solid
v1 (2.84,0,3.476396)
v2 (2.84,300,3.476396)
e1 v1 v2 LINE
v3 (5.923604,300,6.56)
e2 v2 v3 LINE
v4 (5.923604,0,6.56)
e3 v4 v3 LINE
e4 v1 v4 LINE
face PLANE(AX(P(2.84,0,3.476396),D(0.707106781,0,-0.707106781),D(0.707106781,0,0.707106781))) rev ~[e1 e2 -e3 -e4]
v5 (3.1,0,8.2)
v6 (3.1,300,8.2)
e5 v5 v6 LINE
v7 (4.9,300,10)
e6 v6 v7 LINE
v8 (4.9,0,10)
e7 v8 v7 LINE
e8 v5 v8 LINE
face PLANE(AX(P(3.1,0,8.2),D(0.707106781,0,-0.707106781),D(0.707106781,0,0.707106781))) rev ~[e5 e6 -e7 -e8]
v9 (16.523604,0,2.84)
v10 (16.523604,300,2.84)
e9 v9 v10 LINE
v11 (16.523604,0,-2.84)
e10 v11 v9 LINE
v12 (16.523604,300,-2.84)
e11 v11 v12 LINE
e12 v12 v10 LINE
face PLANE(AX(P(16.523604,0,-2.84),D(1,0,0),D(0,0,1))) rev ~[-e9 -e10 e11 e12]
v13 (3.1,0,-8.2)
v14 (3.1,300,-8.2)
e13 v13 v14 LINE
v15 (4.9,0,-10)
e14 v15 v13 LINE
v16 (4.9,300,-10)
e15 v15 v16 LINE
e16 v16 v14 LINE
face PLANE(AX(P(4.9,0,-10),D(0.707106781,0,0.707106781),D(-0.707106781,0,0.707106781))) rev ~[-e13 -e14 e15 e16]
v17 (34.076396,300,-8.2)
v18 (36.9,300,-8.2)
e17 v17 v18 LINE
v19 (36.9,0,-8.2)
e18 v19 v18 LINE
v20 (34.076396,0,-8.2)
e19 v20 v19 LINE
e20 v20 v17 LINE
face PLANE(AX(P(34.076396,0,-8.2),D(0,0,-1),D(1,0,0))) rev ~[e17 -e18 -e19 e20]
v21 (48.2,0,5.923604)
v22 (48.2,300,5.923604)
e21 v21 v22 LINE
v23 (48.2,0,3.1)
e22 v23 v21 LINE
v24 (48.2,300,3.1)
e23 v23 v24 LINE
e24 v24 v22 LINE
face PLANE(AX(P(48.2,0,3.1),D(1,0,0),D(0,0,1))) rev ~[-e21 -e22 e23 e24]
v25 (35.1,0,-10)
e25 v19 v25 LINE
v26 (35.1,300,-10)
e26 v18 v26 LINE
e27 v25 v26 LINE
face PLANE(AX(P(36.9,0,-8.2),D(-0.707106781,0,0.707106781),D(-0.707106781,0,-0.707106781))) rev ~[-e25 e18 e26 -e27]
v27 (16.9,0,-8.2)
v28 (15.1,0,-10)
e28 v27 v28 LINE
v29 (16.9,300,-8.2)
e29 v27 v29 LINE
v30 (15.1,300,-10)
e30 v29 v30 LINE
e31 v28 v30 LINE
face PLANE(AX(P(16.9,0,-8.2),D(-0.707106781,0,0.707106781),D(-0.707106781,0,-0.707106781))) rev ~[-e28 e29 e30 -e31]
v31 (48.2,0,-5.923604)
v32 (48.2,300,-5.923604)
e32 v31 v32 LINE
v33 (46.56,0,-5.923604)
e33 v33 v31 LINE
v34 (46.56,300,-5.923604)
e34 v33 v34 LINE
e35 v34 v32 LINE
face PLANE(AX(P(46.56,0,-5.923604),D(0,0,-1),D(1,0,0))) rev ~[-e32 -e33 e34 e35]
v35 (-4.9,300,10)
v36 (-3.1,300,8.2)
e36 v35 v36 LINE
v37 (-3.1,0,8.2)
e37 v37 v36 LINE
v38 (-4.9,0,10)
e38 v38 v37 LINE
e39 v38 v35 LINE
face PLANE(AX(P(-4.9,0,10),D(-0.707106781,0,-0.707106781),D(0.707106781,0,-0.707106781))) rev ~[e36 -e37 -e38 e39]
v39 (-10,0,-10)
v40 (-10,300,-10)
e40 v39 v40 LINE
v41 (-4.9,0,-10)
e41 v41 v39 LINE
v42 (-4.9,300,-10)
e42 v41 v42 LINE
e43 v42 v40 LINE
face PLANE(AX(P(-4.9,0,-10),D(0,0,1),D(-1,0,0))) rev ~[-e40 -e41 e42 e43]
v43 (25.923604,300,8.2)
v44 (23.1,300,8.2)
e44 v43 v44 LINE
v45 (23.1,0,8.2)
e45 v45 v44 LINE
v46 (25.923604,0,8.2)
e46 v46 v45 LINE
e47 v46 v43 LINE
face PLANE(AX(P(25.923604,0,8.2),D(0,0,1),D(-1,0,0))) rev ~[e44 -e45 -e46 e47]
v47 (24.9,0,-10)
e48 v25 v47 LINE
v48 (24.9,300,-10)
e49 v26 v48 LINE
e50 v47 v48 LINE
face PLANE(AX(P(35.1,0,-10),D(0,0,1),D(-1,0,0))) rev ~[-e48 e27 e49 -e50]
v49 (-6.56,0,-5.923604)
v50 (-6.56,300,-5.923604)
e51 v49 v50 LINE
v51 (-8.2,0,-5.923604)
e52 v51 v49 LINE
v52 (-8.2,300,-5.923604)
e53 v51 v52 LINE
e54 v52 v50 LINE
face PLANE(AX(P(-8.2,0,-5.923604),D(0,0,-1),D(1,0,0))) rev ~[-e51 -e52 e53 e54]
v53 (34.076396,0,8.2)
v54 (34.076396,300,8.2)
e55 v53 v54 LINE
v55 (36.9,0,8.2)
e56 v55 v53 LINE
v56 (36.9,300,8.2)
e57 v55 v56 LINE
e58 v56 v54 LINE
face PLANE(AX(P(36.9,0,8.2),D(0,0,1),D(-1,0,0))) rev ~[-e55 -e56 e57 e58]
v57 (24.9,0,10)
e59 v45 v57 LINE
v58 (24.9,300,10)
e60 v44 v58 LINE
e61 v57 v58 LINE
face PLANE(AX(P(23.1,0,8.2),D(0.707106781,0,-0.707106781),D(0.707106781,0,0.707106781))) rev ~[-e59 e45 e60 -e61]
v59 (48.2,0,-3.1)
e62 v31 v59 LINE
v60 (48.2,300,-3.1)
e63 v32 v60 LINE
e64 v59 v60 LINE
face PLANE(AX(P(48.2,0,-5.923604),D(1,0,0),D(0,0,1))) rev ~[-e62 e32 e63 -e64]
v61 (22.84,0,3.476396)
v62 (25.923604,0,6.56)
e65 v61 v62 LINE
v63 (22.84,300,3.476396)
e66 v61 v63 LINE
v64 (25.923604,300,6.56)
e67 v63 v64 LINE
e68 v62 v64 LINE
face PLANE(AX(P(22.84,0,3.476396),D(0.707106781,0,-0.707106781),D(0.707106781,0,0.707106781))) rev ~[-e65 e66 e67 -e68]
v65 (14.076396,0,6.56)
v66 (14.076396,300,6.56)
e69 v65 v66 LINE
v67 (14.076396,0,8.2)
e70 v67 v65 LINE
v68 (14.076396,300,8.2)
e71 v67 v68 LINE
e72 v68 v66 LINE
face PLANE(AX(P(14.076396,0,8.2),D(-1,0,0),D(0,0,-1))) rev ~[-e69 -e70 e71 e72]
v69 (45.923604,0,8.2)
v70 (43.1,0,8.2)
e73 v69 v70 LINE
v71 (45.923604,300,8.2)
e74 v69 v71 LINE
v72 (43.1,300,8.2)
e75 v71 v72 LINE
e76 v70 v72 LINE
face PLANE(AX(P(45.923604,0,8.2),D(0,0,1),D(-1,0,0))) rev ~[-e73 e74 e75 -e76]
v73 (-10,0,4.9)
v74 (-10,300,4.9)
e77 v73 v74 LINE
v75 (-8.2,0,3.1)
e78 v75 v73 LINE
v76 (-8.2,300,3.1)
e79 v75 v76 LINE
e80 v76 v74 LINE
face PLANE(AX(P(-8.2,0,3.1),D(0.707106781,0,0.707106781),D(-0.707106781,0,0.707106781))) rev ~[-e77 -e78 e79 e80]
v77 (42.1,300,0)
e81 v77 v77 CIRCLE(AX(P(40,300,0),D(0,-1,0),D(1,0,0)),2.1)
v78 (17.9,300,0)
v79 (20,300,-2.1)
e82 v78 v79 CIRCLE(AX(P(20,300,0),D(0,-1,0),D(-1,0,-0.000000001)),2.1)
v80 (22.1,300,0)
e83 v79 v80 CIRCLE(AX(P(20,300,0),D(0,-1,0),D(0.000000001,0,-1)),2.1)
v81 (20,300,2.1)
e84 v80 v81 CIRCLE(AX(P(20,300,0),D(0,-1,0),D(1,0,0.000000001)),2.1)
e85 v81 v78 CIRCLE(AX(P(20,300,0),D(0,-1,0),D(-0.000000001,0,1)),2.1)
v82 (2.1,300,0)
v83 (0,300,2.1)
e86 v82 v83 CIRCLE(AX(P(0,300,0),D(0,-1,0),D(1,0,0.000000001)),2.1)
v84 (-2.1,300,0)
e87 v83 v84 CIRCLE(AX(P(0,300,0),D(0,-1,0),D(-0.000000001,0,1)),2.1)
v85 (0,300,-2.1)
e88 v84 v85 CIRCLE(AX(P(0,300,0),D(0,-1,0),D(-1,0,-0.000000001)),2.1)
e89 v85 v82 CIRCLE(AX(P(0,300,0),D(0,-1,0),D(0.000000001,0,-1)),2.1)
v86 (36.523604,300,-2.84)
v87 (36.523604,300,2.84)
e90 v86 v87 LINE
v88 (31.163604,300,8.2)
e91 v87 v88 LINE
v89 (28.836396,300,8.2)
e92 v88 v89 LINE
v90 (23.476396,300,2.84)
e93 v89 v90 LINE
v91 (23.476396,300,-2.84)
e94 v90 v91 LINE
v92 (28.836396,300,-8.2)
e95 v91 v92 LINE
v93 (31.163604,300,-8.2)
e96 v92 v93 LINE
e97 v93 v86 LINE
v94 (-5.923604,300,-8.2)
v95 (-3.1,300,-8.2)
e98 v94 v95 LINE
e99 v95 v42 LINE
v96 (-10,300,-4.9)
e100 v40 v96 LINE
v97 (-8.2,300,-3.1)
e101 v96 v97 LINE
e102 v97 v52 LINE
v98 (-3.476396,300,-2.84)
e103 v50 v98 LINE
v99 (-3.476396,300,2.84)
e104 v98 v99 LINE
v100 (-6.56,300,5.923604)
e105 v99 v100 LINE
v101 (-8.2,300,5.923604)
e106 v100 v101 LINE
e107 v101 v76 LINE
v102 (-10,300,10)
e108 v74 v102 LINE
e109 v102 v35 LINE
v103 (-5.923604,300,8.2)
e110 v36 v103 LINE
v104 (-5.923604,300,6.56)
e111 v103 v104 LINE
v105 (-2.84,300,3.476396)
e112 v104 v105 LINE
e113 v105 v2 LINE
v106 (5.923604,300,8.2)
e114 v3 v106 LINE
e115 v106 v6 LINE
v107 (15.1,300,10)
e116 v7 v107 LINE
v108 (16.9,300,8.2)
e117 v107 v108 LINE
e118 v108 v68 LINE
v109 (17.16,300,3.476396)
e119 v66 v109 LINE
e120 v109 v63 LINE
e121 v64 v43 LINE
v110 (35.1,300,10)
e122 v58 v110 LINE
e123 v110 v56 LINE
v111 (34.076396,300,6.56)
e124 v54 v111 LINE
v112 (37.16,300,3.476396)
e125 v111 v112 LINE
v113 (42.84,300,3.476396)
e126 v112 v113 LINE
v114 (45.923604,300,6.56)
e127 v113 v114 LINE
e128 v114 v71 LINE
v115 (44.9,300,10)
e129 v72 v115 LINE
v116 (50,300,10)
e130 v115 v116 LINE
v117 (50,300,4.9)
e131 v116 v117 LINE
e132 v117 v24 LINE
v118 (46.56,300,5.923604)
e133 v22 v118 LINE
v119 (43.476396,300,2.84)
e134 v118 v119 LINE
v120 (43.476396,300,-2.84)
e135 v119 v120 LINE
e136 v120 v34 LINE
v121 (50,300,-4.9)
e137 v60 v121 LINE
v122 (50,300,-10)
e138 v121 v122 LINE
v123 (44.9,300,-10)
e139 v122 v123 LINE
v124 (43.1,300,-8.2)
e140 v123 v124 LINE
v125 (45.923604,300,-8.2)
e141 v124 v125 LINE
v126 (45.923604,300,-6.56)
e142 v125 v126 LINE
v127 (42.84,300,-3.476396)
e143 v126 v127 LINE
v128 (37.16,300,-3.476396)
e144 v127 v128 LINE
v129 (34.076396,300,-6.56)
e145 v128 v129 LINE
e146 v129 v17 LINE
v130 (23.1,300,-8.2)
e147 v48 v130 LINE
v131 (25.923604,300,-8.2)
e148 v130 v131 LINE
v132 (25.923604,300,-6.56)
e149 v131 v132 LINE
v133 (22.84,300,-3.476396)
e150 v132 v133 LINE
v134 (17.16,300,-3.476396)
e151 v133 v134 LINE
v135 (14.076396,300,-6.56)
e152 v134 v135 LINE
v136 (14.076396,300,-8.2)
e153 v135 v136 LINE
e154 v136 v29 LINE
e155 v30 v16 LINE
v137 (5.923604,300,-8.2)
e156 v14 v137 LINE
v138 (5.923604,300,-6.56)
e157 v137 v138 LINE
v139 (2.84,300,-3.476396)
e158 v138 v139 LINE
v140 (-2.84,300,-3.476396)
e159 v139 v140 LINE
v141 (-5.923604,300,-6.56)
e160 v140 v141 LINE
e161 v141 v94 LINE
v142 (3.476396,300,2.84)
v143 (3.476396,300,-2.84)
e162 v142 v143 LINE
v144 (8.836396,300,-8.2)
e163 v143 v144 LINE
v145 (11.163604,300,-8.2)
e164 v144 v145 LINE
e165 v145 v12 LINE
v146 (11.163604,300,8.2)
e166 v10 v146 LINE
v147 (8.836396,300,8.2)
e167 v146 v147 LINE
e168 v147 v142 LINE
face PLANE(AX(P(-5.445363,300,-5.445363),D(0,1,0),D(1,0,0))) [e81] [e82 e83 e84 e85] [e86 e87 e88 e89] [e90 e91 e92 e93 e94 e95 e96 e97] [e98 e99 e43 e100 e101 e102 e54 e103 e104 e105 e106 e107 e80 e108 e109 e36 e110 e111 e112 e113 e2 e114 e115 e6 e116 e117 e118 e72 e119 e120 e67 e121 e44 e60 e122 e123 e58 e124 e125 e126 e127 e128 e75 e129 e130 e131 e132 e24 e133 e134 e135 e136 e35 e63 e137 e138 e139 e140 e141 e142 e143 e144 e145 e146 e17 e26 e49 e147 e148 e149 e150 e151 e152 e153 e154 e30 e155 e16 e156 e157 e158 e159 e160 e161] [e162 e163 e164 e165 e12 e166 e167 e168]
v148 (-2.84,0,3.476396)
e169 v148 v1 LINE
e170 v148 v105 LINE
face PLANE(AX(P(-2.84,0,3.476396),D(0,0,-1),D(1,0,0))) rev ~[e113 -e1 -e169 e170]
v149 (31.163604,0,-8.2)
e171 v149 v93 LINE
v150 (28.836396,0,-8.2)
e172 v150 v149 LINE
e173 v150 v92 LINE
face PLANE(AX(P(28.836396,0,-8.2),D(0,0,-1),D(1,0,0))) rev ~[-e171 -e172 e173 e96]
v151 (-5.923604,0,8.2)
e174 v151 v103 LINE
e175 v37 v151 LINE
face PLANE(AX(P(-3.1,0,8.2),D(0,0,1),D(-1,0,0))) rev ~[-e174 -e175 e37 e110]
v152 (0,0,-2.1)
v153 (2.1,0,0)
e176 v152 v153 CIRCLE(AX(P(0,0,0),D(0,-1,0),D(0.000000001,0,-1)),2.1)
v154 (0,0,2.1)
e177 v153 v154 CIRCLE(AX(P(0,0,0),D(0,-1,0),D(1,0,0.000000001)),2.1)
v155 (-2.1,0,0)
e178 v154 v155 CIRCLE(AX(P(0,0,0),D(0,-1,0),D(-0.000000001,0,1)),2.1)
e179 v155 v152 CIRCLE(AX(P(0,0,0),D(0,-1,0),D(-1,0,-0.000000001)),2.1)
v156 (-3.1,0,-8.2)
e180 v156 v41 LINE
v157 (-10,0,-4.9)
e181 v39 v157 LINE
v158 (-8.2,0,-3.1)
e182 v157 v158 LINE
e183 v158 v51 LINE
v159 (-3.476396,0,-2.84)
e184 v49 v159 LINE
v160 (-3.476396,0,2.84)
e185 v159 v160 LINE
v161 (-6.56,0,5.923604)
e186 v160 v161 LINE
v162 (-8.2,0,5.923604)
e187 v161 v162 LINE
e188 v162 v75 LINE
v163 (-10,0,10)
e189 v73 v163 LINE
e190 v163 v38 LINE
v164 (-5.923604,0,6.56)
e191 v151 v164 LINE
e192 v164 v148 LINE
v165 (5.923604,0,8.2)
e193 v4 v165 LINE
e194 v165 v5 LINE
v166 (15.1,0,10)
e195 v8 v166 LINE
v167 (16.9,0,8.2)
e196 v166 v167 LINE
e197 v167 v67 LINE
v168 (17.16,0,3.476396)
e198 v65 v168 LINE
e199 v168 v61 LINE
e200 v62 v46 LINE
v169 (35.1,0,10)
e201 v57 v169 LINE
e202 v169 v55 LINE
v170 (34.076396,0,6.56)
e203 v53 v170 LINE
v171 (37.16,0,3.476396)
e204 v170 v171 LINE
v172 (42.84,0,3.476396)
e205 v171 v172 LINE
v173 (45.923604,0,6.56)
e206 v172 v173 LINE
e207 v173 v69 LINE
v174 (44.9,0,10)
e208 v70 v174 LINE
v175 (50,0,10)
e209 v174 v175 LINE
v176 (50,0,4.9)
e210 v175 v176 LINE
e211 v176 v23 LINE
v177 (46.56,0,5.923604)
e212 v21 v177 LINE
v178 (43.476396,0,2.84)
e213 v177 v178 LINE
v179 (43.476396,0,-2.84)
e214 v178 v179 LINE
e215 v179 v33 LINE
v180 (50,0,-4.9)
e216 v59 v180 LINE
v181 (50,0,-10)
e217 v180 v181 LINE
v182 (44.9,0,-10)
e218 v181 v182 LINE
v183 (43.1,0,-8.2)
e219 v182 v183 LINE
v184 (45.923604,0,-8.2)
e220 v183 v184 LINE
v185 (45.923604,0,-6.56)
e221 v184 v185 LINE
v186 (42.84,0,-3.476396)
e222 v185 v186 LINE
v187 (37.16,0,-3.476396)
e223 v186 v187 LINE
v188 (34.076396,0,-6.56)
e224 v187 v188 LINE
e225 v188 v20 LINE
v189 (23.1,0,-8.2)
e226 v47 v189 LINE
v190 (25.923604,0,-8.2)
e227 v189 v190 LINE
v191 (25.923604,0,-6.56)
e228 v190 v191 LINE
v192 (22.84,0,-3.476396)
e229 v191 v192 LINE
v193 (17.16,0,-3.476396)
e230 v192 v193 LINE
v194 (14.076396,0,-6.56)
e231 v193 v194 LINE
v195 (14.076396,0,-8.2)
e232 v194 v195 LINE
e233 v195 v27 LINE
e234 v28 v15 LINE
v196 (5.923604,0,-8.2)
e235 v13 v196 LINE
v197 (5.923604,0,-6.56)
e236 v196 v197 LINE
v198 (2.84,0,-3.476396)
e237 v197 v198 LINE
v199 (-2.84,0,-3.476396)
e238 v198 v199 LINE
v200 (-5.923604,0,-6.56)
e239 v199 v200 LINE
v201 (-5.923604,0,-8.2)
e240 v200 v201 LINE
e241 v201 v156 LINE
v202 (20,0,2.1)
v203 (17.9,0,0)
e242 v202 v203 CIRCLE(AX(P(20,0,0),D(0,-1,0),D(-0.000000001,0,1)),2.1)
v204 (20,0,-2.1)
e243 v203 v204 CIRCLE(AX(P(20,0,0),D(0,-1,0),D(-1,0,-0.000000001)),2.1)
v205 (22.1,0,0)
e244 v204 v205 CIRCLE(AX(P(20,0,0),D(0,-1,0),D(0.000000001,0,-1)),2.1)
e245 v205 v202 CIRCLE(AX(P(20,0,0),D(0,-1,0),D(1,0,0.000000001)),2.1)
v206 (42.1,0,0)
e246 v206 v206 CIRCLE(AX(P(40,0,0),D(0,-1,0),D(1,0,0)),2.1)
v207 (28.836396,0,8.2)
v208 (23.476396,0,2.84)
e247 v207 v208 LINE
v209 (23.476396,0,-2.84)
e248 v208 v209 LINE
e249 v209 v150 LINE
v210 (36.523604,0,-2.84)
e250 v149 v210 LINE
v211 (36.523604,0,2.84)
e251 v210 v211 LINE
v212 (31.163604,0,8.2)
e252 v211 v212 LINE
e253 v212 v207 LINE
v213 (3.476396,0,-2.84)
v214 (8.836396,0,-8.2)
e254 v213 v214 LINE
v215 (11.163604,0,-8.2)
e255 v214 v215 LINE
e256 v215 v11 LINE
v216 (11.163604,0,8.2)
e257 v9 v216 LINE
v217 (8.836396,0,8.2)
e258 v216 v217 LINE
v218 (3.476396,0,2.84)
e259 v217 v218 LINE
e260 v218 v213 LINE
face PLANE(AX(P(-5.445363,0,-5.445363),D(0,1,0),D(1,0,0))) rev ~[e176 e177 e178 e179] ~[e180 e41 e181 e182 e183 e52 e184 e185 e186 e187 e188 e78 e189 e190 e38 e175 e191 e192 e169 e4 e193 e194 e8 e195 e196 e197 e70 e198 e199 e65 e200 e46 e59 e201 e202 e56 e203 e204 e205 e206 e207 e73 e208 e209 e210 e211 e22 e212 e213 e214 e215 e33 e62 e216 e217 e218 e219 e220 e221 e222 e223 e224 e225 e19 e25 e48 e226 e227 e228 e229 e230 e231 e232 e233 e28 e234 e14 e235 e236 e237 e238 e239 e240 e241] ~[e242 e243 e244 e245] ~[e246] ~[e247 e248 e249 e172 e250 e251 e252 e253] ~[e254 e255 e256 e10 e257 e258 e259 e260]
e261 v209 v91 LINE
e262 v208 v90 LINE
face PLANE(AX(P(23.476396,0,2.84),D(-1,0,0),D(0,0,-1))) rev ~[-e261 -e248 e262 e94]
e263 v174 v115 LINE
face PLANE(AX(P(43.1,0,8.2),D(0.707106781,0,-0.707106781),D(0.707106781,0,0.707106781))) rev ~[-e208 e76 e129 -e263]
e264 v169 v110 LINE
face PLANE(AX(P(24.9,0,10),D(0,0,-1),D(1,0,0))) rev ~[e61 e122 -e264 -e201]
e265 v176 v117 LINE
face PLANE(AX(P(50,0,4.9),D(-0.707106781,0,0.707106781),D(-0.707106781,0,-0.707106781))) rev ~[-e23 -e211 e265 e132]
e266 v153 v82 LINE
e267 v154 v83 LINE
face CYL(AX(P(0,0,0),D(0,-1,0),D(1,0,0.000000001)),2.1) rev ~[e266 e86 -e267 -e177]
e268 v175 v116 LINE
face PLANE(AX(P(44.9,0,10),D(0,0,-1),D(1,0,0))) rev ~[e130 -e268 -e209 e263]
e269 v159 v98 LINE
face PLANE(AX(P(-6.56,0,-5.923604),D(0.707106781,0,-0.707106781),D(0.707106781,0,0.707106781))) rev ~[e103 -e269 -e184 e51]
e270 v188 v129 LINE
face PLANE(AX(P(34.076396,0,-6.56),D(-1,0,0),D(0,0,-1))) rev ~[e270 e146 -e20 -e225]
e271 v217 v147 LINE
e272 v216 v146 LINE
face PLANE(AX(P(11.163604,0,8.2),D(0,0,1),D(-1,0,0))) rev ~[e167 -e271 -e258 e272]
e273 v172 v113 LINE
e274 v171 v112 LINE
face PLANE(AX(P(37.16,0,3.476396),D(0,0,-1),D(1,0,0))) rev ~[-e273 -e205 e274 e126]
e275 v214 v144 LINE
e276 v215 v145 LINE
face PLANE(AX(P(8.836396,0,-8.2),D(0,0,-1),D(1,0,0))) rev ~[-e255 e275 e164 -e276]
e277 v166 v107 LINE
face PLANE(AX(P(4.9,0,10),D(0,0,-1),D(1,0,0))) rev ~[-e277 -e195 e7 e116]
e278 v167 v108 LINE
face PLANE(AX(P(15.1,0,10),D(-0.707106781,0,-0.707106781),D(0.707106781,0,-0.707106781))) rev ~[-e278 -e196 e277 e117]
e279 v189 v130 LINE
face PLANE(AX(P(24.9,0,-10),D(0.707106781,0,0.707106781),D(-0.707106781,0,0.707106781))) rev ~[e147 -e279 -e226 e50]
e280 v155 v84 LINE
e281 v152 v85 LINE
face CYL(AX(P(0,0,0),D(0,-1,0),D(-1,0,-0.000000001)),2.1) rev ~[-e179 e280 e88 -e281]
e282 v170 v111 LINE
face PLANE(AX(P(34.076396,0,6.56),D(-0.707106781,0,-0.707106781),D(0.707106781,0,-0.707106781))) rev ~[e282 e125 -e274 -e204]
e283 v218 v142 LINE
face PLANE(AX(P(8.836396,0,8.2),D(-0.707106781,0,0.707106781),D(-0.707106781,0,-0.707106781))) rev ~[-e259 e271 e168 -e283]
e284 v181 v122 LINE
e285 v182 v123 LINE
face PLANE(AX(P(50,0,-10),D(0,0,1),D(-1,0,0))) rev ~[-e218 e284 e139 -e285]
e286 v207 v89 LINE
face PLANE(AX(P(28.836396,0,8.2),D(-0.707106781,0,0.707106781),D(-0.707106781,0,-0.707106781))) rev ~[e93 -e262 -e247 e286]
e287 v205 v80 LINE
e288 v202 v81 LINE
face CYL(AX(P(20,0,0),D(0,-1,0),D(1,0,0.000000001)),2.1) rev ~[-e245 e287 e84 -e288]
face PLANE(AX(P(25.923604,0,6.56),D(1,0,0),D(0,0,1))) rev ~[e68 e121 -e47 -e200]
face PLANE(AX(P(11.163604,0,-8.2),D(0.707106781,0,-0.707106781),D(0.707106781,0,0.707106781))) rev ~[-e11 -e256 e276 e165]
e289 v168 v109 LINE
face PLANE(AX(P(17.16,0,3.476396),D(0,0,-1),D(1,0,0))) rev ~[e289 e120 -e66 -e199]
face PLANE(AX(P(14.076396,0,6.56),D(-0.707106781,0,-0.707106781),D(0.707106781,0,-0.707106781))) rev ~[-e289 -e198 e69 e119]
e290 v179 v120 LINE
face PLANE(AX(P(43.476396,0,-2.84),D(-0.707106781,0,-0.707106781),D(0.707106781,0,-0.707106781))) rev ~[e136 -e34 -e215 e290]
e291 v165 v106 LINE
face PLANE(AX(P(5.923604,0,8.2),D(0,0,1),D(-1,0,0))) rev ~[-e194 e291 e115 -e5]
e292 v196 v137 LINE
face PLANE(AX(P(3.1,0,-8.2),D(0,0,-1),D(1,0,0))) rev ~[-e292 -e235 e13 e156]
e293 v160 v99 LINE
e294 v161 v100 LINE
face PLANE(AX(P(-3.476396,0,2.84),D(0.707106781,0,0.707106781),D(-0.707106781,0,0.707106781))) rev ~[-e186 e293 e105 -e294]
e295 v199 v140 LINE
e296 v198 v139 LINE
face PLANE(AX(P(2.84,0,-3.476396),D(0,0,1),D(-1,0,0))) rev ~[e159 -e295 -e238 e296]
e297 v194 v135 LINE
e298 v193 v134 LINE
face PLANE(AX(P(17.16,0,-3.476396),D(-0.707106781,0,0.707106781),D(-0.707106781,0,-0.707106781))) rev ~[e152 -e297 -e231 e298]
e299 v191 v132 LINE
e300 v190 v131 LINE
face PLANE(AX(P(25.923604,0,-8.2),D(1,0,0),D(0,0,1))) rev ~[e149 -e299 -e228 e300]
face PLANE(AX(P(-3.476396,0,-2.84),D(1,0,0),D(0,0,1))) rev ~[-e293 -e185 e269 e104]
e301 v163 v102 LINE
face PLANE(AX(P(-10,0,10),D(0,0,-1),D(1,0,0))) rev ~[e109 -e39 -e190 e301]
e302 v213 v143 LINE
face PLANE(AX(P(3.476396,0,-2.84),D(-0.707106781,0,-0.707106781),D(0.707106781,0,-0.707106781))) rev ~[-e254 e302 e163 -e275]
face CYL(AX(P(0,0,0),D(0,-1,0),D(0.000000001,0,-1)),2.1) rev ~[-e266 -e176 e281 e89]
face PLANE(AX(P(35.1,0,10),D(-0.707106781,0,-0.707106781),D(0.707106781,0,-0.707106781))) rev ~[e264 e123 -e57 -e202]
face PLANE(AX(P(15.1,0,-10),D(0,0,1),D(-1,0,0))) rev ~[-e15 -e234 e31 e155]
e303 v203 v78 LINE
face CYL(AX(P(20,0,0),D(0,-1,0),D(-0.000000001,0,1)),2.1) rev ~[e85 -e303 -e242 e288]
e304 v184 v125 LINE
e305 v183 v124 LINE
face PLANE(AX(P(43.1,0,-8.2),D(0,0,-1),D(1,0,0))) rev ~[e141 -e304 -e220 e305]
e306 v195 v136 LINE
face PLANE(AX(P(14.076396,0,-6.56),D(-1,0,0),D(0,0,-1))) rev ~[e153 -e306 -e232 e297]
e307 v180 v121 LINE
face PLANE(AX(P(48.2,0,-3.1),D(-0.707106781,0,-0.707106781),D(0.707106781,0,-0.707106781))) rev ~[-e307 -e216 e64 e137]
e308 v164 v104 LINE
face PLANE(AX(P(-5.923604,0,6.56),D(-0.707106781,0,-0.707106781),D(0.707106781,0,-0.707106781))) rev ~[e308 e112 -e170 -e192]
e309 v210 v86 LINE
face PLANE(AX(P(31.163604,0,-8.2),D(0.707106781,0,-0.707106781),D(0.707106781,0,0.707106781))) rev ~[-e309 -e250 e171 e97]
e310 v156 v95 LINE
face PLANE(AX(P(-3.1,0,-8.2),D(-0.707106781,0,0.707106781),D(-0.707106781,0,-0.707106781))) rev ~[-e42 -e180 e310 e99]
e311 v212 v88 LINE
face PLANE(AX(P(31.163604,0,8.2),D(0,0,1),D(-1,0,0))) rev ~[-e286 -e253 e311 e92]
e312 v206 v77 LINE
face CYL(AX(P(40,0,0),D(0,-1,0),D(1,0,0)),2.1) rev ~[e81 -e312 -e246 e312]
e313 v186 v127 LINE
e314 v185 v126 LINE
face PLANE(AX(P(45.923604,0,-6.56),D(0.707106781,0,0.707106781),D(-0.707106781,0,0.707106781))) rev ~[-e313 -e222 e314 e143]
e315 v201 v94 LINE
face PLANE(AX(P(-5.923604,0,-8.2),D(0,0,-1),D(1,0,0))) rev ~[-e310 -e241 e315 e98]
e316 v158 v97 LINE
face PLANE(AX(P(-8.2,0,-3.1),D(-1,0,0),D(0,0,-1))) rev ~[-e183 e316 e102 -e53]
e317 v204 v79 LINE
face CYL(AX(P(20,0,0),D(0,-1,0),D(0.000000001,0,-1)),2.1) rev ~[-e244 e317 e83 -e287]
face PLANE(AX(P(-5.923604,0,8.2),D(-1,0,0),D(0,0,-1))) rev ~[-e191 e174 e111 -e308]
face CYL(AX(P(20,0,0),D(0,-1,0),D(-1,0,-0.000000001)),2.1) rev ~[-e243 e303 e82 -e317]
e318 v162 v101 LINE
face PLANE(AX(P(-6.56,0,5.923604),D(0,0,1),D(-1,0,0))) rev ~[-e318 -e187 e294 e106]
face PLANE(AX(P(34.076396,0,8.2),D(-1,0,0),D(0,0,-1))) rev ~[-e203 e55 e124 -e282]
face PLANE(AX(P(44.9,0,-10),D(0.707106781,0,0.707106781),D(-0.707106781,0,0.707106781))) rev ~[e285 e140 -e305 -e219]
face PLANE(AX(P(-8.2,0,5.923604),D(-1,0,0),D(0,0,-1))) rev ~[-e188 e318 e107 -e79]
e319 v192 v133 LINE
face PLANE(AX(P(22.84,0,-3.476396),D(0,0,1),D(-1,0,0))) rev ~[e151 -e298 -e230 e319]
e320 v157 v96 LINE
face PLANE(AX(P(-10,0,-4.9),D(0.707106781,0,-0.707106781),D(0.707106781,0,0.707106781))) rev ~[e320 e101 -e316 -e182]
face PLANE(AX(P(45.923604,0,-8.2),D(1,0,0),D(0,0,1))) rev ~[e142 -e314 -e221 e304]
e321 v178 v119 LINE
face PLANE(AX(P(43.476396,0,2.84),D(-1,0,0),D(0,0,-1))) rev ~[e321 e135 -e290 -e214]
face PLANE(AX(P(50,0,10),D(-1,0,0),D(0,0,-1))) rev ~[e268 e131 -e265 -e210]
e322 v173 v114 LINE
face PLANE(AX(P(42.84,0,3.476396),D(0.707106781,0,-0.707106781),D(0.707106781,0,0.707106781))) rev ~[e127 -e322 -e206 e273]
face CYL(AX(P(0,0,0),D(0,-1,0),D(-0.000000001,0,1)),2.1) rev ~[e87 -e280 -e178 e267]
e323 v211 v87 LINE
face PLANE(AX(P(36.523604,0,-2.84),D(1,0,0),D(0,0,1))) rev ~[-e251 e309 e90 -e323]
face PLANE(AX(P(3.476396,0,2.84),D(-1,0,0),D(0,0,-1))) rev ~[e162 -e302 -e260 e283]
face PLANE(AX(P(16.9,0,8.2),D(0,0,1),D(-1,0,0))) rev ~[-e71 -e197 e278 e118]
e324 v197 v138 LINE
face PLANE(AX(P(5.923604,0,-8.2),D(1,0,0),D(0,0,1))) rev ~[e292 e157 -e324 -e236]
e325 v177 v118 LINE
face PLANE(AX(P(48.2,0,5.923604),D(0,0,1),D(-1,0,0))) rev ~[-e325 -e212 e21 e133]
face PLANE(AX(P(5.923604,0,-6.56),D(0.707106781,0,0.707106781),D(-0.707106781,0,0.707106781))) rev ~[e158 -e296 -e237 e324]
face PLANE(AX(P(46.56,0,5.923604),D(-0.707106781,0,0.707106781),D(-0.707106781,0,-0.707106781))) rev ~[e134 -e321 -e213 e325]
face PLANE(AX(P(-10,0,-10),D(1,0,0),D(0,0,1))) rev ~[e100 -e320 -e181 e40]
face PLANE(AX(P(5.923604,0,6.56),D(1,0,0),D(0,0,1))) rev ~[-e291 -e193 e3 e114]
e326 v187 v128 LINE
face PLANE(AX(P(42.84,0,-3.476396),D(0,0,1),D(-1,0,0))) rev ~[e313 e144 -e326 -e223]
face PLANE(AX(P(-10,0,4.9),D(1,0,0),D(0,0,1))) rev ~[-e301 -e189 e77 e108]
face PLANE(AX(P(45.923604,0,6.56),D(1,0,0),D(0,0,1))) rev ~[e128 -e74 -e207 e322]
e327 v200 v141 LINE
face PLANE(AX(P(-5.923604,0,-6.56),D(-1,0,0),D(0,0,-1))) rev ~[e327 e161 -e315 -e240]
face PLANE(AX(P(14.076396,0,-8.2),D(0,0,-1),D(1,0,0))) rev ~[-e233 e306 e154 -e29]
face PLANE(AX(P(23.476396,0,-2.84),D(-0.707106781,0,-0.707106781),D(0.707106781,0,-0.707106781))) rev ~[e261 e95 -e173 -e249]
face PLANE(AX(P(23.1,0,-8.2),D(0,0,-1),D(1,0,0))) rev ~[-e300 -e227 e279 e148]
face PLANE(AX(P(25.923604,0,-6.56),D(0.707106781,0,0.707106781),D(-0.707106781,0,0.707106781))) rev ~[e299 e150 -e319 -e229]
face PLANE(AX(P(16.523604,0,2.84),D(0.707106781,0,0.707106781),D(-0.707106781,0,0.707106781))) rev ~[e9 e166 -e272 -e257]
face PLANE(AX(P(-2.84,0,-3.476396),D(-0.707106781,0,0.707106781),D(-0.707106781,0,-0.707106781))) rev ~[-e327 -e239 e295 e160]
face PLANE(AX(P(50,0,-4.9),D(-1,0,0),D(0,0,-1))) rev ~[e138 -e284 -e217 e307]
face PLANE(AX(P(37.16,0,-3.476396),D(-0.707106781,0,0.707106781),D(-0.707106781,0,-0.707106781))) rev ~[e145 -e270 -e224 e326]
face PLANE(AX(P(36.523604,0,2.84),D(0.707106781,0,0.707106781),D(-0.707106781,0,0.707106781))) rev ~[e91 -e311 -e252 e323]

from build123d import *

# Parameters (mm, degrees)
EXTRUDE_1_DEPTH = 300


with BuildPart() as part:
    # 草图1 → 凸台-拉伸1 (new body)
    with BuildSketch(Plane(origin=(0, 0, 0), x_dir=(1, 0, 0), z_dir=(0, 1, 0))):
        with BuildLine():
            Line((-3.476396103, 2.84), (-3.476396103, 0))
            Line((-3.476396103, 0), (-2.1, 0))
            ThreePointArc((-2.1, 0), (-1.48492424, 1.48492424), (0, 2.1))
            Line((0, 2.1), (0, 3.476396103))
            Line((0, 3.476396103), (-2.84, 3.476396103))
            Line((-2.84, 3.476396103), (-5.923603897, 6.56))
            Line((-5.923603897, 6.56), (-5.923603897, 8.2))
            Line((-5.923603897, 8.2), (-3.1, 8.2))
            Line((-3.1, 8.2), (-4.9, 10))
            Line((-4.9, 10), (-10, 10))
            Line((-10, 10), (-10, 4.9))
            Line((-10, 4.9), (-8.2, 3.1))
            Line((-8.2, 3.1), (-8.2, 5.923603897))
            Line((-8.2, 5.923603897), (-6.56, 5.923603897))
            Line((-6.56, 5.923603897), (-3.476396103, 2.84))
        make_face()
        with BuildLine():
            Line((-2.1, 0), (-3.476396103, 0))
            Line((-3.476396103, 0), (-3.476396103, -2.84))
            Line((-3.476396103, -2.84), (-6.56, -5.923603897))
            Line((-6.56, -5.923603897), (-8.2, -5.923603897))
            Line((-8.2, -5.923603897), (-8.2, -3.1))
            Line((-8.2, -3.1), (-10, -4.9))
            Line((-10, -4.9), (-10, -10))
            Line((-10, -10), (-4.9, -10))
            Line((-4.9, -10), (-3.1, -8.2))
            Line((-3.1, -8.2), (-5.923603897, -8.2))
            Line((-5.923603897, -8.2), (-5.923603897, -6.56))
            Line((-5.923603897, -6.56), (-2.84, -3.476396103))
            Line((-2.84, -3.476396103), (0, -3.476396103))
            Line((0, -3.476396103), (0, -2.1))
            ThreePointArc((0, -2.1), (-1.48492424, -1.48492424), (-2.1, 0))
        make_face()
        with BuildLine():
            ThreePointArc((2.1, 0), (1.48492424, -1.48492424), (0, -2.1))
            Line((0, -2.1), (0, -3.476396103))
            Line((0, -3.476396103), (2.84, -3.476396103))
            Line((2.84, -3.476396103), (5.923603897, -6.56))
            Line((5.923603897, -6.56), (5.923603897, -8.2))
            Line((5.923603897, -8.2), (3.1, -8.2))
            Line((3.1, -8.2), (4.9, -10))
            Line((4.9, -10), (15.1, -10))
            Line((15.1, -10), (16.9, -8.2))
            Line((16.9, -8.2), (14.076396103, -8.2))
            Line((14.076396103, -8.2), (14.076396103, -6.56))
            Line((14.076396103, -6.56), (17.16, -3.476396103))
            Line((17.16, -3.476396103), (20, -3.476396103))
            Line((20, -3.476396103), (20, -2.1))
            ThreePointArc((20, -2.1), (18.51507576, -1.48492424), (17.9, 0))
            Line((17.9, 0), (16.523603897, 0))
            Line((16.523603897, 0), (16.523603897, -2.84))
            Line((16.523603897, -2.84), (13.44, -5.923603897))
            Line((13.44, -5.923603897), (11.163603897, -8.2))
            Line((11.163603897, -8.2), (8.836396103, -8.2))
            Line((8.836396103, -8.2), (6.56, -5.923603897))
            Line((6.56, -5.923603897), (3.476396103, -2.84))
            Line((3.476396103, -2.84), (3.476396103, 0))
            Line((3.476396103, 0), (2.1, 0))
        make_face()
        with BuildLine():
            Line((0, 3.476396103), (0, 2.1))
            ThreePointArc((0, 2.1), (1.48492424, 1.48492424), (2.1, 0))
            Line((2.1, 0), (3.476396103, 0))
            Line((3.476396103, 0), (3.476396103, 2.84))
            Line((3.476396103, 2.84), (6.56, 5.923603897))
            Line((6.56, 5.923603897), (8.836396103, 8.2))
            Line((8.836396103, 8.2), (11.163603897, 8.2))
            Line((11.163603897, 8.2), (13.44, 5.923603897))
            Line((13.44, 5.923603897), (16.523603897, 2.84))
            Line((16.523603897, 2.84), (16.523603897, 0))
            Line((16.523603897, 0), (17.9, 0))
            ThreePointArc((17.9, 0), (18.51507576, 1.48492424), (20, 2.1))
            Line((20, 2.1), (20, 3.476396103))
            Line((20, 3.476396103), (17.16, 3.476396103))
            Line((17.16, 3.476396103), (14.076396103, 6.56))
            Line((14.076396103, 6.56), (14.076396103, 8.2))
            Line((14.076396103, 8.2), (16.9, 8.2))
            Line((16.9, 8.2), (15.1, 10))
            Line((15.1, 10), (4.9, 10))
            Line((4.9, 10), (3.1, 8.2))
            Line((3.1, 8.2), (5.923603897, 8.2))
            Line((5.923603897, 8.2), (5.923603897, 6.56))
            Line((5.923603897, 6.56), (2.84, 3.476396103))
            Line((2.84, 3.476396103), (0, 3.476396103))
        make_face()
        with BuildLine():
            Line((20, 3.476396103), (20, 2.1))
            ThreePointArc((20, 2.1), (21.48492424, 1.48492424), (22.1, 0))
            Line((22.1, 0), (23.476396103, 0))
            Line((23.476396103, 0), (23.476396103, 2.84))
            Line((23.476396103, 2.84), (26.56, 5.923603897))
            Line((26.56, 5.923603897), (28.836396103, 8.2))
            Line((28.836396103, 8.2), (31.163603897, 8.2))
            Line((31.163603897, 8.2), (33.44, 5.923603897))
            Line((33.44, 5.923603897), (36.523603897, 2.84))
            Line((36.523603897, 2.84), (36.523603897, 0))
            Line((36.523603897, 0), (37.9, 0))
            ThreePointArc((37.9, 0), (40, 2.1), (42.1, 0))
            Line((42.1, 0), (43.476396103, 0))
            Line((43.476396103, 0), (43.476396103, 2.84))
            Line((43.476396103, 2.84), (46.56, 5.923603897))
            Line((46.56, 5.923603897), (48.2, 5.923603897))
            Line((48.2, 5.923603897), (48.2, 3.1))
            Line((48.2, 3.1), (50, 4.9))
            Line((50, 4.9), (50, 10))
            Line((50, 10), (44.9, 10))
            Line((44.9, 10), (43.1, 8.2))
            Line((43.1, 8.2), (45.923603897, 8.2))
            Line((45.923603897, 8.2), (45.923603897, 6.56))
            Line((45.923603897, 6.56), (42.84, 3.476396103))
            Line((42.84, 3.476396103), (37.16, 3.476396103))
            Line((37.16, 3.476396103), (34.076396103, 6.56))
            Line((34.076396103, 6.56), (34.076396103, 8.2))
            Line((34.076396103, 8.2), (36.9, 8.2))
            Line((36.9, 8.2), (35.1, 10))
            Line((35.1, 10), (24.9, 10))
            Line((24.9, 10), (23.1, 8.2))
            Line((23.1, 8.2), (25.923603897, 8.2))
            Line((25.923603897, 8.2), (25.923603897, 6.56))
            Line((25.923603897, 6.56), (22.84, 3.476396103))
            Line((22.84, 3.476396103), (20, 3.476396103))
        make_face()
        with BuildLine():
            ThreePointArc((22.1, 0), (21.48492424, -1.48492424), (20, -2.1))
            Line((20, -2.1), (20, -3.476396103))
            Line((20, -3.476396103), (22.84, -3.476396103))
            Line((22.84, -3.476396103), (25.923603897, -6.56))
            Line((25.923603897, -6.56), (25.923603897, -8.2))
            Line((25.923603897, -8.2), (23.1, -8.2))
            Line((23.1, -8.2), (24.9, -10))
            Line((24.9, -10), (35.1, -10))
            Line((35.1, -10), (36.9, -8.2))
            Line((36.9, -8.2), (34.076396103, -8.2))
            Line((34.076396103, -8.2), (34.076396103, -6.56))
            Line((34.076396103, -6.56), (37.16, -3.476396103))
            Line((37.16, -3.476396103), (42.84, -3.476396103))
            Line((42.84, -3.476396103), (45.923603897, -6.56))
            Line((45.923603897, -6.56), (45.923603897, -8.2))
            Line((45.923603897, -8.2), (43.1, -8.2))
            Line((43.1, -8.2), (44.9, -10))
            Line((44.9, -10), (50, -10))
            Line((50, -10), (50, -4.9))
            Line((50, -4.9), (48.2, -3.1))
            Line((48.2, -3.1), (48.2, -5.923603897))
            Line((48.2, -5.923603897), (46.56, -5.923603897))
            Line((46.56, -5.923603897), (43.476396103, -2.84))
            Line((43.476396103, -2.84), (43.476396103, 0))
            Line((43.476396103, 0), (42.1, 0))
            ThreePointArc((42.1, 0), (40, -2.1), (37.9, 0))
            Line((37.9, 0), (36.523603897, 0))
            Line((36.523603897, 0), (36.523603897, -2.84))
            Line((36.523603897, -2.84), (33.44, -5.923603897))
            Line((33.44, -5.923603897), (31.163603897, -8.2))
            Line((31.163603897, -8.2), (28.836396103, -8.2))
            Line((28.836396103, -8.2), (26.56, -5.923603897))
            Line((26.56, -5.923603897), (23.476396103, -2.84))
            Line((23.476396103, -2.84), (23.476396103, 0))
            Line((23.476396103, 0), (22.1, 0))
        make_face()
    extrude(amount=EXTRUDE_1_DEPTH)


solid = part.part
